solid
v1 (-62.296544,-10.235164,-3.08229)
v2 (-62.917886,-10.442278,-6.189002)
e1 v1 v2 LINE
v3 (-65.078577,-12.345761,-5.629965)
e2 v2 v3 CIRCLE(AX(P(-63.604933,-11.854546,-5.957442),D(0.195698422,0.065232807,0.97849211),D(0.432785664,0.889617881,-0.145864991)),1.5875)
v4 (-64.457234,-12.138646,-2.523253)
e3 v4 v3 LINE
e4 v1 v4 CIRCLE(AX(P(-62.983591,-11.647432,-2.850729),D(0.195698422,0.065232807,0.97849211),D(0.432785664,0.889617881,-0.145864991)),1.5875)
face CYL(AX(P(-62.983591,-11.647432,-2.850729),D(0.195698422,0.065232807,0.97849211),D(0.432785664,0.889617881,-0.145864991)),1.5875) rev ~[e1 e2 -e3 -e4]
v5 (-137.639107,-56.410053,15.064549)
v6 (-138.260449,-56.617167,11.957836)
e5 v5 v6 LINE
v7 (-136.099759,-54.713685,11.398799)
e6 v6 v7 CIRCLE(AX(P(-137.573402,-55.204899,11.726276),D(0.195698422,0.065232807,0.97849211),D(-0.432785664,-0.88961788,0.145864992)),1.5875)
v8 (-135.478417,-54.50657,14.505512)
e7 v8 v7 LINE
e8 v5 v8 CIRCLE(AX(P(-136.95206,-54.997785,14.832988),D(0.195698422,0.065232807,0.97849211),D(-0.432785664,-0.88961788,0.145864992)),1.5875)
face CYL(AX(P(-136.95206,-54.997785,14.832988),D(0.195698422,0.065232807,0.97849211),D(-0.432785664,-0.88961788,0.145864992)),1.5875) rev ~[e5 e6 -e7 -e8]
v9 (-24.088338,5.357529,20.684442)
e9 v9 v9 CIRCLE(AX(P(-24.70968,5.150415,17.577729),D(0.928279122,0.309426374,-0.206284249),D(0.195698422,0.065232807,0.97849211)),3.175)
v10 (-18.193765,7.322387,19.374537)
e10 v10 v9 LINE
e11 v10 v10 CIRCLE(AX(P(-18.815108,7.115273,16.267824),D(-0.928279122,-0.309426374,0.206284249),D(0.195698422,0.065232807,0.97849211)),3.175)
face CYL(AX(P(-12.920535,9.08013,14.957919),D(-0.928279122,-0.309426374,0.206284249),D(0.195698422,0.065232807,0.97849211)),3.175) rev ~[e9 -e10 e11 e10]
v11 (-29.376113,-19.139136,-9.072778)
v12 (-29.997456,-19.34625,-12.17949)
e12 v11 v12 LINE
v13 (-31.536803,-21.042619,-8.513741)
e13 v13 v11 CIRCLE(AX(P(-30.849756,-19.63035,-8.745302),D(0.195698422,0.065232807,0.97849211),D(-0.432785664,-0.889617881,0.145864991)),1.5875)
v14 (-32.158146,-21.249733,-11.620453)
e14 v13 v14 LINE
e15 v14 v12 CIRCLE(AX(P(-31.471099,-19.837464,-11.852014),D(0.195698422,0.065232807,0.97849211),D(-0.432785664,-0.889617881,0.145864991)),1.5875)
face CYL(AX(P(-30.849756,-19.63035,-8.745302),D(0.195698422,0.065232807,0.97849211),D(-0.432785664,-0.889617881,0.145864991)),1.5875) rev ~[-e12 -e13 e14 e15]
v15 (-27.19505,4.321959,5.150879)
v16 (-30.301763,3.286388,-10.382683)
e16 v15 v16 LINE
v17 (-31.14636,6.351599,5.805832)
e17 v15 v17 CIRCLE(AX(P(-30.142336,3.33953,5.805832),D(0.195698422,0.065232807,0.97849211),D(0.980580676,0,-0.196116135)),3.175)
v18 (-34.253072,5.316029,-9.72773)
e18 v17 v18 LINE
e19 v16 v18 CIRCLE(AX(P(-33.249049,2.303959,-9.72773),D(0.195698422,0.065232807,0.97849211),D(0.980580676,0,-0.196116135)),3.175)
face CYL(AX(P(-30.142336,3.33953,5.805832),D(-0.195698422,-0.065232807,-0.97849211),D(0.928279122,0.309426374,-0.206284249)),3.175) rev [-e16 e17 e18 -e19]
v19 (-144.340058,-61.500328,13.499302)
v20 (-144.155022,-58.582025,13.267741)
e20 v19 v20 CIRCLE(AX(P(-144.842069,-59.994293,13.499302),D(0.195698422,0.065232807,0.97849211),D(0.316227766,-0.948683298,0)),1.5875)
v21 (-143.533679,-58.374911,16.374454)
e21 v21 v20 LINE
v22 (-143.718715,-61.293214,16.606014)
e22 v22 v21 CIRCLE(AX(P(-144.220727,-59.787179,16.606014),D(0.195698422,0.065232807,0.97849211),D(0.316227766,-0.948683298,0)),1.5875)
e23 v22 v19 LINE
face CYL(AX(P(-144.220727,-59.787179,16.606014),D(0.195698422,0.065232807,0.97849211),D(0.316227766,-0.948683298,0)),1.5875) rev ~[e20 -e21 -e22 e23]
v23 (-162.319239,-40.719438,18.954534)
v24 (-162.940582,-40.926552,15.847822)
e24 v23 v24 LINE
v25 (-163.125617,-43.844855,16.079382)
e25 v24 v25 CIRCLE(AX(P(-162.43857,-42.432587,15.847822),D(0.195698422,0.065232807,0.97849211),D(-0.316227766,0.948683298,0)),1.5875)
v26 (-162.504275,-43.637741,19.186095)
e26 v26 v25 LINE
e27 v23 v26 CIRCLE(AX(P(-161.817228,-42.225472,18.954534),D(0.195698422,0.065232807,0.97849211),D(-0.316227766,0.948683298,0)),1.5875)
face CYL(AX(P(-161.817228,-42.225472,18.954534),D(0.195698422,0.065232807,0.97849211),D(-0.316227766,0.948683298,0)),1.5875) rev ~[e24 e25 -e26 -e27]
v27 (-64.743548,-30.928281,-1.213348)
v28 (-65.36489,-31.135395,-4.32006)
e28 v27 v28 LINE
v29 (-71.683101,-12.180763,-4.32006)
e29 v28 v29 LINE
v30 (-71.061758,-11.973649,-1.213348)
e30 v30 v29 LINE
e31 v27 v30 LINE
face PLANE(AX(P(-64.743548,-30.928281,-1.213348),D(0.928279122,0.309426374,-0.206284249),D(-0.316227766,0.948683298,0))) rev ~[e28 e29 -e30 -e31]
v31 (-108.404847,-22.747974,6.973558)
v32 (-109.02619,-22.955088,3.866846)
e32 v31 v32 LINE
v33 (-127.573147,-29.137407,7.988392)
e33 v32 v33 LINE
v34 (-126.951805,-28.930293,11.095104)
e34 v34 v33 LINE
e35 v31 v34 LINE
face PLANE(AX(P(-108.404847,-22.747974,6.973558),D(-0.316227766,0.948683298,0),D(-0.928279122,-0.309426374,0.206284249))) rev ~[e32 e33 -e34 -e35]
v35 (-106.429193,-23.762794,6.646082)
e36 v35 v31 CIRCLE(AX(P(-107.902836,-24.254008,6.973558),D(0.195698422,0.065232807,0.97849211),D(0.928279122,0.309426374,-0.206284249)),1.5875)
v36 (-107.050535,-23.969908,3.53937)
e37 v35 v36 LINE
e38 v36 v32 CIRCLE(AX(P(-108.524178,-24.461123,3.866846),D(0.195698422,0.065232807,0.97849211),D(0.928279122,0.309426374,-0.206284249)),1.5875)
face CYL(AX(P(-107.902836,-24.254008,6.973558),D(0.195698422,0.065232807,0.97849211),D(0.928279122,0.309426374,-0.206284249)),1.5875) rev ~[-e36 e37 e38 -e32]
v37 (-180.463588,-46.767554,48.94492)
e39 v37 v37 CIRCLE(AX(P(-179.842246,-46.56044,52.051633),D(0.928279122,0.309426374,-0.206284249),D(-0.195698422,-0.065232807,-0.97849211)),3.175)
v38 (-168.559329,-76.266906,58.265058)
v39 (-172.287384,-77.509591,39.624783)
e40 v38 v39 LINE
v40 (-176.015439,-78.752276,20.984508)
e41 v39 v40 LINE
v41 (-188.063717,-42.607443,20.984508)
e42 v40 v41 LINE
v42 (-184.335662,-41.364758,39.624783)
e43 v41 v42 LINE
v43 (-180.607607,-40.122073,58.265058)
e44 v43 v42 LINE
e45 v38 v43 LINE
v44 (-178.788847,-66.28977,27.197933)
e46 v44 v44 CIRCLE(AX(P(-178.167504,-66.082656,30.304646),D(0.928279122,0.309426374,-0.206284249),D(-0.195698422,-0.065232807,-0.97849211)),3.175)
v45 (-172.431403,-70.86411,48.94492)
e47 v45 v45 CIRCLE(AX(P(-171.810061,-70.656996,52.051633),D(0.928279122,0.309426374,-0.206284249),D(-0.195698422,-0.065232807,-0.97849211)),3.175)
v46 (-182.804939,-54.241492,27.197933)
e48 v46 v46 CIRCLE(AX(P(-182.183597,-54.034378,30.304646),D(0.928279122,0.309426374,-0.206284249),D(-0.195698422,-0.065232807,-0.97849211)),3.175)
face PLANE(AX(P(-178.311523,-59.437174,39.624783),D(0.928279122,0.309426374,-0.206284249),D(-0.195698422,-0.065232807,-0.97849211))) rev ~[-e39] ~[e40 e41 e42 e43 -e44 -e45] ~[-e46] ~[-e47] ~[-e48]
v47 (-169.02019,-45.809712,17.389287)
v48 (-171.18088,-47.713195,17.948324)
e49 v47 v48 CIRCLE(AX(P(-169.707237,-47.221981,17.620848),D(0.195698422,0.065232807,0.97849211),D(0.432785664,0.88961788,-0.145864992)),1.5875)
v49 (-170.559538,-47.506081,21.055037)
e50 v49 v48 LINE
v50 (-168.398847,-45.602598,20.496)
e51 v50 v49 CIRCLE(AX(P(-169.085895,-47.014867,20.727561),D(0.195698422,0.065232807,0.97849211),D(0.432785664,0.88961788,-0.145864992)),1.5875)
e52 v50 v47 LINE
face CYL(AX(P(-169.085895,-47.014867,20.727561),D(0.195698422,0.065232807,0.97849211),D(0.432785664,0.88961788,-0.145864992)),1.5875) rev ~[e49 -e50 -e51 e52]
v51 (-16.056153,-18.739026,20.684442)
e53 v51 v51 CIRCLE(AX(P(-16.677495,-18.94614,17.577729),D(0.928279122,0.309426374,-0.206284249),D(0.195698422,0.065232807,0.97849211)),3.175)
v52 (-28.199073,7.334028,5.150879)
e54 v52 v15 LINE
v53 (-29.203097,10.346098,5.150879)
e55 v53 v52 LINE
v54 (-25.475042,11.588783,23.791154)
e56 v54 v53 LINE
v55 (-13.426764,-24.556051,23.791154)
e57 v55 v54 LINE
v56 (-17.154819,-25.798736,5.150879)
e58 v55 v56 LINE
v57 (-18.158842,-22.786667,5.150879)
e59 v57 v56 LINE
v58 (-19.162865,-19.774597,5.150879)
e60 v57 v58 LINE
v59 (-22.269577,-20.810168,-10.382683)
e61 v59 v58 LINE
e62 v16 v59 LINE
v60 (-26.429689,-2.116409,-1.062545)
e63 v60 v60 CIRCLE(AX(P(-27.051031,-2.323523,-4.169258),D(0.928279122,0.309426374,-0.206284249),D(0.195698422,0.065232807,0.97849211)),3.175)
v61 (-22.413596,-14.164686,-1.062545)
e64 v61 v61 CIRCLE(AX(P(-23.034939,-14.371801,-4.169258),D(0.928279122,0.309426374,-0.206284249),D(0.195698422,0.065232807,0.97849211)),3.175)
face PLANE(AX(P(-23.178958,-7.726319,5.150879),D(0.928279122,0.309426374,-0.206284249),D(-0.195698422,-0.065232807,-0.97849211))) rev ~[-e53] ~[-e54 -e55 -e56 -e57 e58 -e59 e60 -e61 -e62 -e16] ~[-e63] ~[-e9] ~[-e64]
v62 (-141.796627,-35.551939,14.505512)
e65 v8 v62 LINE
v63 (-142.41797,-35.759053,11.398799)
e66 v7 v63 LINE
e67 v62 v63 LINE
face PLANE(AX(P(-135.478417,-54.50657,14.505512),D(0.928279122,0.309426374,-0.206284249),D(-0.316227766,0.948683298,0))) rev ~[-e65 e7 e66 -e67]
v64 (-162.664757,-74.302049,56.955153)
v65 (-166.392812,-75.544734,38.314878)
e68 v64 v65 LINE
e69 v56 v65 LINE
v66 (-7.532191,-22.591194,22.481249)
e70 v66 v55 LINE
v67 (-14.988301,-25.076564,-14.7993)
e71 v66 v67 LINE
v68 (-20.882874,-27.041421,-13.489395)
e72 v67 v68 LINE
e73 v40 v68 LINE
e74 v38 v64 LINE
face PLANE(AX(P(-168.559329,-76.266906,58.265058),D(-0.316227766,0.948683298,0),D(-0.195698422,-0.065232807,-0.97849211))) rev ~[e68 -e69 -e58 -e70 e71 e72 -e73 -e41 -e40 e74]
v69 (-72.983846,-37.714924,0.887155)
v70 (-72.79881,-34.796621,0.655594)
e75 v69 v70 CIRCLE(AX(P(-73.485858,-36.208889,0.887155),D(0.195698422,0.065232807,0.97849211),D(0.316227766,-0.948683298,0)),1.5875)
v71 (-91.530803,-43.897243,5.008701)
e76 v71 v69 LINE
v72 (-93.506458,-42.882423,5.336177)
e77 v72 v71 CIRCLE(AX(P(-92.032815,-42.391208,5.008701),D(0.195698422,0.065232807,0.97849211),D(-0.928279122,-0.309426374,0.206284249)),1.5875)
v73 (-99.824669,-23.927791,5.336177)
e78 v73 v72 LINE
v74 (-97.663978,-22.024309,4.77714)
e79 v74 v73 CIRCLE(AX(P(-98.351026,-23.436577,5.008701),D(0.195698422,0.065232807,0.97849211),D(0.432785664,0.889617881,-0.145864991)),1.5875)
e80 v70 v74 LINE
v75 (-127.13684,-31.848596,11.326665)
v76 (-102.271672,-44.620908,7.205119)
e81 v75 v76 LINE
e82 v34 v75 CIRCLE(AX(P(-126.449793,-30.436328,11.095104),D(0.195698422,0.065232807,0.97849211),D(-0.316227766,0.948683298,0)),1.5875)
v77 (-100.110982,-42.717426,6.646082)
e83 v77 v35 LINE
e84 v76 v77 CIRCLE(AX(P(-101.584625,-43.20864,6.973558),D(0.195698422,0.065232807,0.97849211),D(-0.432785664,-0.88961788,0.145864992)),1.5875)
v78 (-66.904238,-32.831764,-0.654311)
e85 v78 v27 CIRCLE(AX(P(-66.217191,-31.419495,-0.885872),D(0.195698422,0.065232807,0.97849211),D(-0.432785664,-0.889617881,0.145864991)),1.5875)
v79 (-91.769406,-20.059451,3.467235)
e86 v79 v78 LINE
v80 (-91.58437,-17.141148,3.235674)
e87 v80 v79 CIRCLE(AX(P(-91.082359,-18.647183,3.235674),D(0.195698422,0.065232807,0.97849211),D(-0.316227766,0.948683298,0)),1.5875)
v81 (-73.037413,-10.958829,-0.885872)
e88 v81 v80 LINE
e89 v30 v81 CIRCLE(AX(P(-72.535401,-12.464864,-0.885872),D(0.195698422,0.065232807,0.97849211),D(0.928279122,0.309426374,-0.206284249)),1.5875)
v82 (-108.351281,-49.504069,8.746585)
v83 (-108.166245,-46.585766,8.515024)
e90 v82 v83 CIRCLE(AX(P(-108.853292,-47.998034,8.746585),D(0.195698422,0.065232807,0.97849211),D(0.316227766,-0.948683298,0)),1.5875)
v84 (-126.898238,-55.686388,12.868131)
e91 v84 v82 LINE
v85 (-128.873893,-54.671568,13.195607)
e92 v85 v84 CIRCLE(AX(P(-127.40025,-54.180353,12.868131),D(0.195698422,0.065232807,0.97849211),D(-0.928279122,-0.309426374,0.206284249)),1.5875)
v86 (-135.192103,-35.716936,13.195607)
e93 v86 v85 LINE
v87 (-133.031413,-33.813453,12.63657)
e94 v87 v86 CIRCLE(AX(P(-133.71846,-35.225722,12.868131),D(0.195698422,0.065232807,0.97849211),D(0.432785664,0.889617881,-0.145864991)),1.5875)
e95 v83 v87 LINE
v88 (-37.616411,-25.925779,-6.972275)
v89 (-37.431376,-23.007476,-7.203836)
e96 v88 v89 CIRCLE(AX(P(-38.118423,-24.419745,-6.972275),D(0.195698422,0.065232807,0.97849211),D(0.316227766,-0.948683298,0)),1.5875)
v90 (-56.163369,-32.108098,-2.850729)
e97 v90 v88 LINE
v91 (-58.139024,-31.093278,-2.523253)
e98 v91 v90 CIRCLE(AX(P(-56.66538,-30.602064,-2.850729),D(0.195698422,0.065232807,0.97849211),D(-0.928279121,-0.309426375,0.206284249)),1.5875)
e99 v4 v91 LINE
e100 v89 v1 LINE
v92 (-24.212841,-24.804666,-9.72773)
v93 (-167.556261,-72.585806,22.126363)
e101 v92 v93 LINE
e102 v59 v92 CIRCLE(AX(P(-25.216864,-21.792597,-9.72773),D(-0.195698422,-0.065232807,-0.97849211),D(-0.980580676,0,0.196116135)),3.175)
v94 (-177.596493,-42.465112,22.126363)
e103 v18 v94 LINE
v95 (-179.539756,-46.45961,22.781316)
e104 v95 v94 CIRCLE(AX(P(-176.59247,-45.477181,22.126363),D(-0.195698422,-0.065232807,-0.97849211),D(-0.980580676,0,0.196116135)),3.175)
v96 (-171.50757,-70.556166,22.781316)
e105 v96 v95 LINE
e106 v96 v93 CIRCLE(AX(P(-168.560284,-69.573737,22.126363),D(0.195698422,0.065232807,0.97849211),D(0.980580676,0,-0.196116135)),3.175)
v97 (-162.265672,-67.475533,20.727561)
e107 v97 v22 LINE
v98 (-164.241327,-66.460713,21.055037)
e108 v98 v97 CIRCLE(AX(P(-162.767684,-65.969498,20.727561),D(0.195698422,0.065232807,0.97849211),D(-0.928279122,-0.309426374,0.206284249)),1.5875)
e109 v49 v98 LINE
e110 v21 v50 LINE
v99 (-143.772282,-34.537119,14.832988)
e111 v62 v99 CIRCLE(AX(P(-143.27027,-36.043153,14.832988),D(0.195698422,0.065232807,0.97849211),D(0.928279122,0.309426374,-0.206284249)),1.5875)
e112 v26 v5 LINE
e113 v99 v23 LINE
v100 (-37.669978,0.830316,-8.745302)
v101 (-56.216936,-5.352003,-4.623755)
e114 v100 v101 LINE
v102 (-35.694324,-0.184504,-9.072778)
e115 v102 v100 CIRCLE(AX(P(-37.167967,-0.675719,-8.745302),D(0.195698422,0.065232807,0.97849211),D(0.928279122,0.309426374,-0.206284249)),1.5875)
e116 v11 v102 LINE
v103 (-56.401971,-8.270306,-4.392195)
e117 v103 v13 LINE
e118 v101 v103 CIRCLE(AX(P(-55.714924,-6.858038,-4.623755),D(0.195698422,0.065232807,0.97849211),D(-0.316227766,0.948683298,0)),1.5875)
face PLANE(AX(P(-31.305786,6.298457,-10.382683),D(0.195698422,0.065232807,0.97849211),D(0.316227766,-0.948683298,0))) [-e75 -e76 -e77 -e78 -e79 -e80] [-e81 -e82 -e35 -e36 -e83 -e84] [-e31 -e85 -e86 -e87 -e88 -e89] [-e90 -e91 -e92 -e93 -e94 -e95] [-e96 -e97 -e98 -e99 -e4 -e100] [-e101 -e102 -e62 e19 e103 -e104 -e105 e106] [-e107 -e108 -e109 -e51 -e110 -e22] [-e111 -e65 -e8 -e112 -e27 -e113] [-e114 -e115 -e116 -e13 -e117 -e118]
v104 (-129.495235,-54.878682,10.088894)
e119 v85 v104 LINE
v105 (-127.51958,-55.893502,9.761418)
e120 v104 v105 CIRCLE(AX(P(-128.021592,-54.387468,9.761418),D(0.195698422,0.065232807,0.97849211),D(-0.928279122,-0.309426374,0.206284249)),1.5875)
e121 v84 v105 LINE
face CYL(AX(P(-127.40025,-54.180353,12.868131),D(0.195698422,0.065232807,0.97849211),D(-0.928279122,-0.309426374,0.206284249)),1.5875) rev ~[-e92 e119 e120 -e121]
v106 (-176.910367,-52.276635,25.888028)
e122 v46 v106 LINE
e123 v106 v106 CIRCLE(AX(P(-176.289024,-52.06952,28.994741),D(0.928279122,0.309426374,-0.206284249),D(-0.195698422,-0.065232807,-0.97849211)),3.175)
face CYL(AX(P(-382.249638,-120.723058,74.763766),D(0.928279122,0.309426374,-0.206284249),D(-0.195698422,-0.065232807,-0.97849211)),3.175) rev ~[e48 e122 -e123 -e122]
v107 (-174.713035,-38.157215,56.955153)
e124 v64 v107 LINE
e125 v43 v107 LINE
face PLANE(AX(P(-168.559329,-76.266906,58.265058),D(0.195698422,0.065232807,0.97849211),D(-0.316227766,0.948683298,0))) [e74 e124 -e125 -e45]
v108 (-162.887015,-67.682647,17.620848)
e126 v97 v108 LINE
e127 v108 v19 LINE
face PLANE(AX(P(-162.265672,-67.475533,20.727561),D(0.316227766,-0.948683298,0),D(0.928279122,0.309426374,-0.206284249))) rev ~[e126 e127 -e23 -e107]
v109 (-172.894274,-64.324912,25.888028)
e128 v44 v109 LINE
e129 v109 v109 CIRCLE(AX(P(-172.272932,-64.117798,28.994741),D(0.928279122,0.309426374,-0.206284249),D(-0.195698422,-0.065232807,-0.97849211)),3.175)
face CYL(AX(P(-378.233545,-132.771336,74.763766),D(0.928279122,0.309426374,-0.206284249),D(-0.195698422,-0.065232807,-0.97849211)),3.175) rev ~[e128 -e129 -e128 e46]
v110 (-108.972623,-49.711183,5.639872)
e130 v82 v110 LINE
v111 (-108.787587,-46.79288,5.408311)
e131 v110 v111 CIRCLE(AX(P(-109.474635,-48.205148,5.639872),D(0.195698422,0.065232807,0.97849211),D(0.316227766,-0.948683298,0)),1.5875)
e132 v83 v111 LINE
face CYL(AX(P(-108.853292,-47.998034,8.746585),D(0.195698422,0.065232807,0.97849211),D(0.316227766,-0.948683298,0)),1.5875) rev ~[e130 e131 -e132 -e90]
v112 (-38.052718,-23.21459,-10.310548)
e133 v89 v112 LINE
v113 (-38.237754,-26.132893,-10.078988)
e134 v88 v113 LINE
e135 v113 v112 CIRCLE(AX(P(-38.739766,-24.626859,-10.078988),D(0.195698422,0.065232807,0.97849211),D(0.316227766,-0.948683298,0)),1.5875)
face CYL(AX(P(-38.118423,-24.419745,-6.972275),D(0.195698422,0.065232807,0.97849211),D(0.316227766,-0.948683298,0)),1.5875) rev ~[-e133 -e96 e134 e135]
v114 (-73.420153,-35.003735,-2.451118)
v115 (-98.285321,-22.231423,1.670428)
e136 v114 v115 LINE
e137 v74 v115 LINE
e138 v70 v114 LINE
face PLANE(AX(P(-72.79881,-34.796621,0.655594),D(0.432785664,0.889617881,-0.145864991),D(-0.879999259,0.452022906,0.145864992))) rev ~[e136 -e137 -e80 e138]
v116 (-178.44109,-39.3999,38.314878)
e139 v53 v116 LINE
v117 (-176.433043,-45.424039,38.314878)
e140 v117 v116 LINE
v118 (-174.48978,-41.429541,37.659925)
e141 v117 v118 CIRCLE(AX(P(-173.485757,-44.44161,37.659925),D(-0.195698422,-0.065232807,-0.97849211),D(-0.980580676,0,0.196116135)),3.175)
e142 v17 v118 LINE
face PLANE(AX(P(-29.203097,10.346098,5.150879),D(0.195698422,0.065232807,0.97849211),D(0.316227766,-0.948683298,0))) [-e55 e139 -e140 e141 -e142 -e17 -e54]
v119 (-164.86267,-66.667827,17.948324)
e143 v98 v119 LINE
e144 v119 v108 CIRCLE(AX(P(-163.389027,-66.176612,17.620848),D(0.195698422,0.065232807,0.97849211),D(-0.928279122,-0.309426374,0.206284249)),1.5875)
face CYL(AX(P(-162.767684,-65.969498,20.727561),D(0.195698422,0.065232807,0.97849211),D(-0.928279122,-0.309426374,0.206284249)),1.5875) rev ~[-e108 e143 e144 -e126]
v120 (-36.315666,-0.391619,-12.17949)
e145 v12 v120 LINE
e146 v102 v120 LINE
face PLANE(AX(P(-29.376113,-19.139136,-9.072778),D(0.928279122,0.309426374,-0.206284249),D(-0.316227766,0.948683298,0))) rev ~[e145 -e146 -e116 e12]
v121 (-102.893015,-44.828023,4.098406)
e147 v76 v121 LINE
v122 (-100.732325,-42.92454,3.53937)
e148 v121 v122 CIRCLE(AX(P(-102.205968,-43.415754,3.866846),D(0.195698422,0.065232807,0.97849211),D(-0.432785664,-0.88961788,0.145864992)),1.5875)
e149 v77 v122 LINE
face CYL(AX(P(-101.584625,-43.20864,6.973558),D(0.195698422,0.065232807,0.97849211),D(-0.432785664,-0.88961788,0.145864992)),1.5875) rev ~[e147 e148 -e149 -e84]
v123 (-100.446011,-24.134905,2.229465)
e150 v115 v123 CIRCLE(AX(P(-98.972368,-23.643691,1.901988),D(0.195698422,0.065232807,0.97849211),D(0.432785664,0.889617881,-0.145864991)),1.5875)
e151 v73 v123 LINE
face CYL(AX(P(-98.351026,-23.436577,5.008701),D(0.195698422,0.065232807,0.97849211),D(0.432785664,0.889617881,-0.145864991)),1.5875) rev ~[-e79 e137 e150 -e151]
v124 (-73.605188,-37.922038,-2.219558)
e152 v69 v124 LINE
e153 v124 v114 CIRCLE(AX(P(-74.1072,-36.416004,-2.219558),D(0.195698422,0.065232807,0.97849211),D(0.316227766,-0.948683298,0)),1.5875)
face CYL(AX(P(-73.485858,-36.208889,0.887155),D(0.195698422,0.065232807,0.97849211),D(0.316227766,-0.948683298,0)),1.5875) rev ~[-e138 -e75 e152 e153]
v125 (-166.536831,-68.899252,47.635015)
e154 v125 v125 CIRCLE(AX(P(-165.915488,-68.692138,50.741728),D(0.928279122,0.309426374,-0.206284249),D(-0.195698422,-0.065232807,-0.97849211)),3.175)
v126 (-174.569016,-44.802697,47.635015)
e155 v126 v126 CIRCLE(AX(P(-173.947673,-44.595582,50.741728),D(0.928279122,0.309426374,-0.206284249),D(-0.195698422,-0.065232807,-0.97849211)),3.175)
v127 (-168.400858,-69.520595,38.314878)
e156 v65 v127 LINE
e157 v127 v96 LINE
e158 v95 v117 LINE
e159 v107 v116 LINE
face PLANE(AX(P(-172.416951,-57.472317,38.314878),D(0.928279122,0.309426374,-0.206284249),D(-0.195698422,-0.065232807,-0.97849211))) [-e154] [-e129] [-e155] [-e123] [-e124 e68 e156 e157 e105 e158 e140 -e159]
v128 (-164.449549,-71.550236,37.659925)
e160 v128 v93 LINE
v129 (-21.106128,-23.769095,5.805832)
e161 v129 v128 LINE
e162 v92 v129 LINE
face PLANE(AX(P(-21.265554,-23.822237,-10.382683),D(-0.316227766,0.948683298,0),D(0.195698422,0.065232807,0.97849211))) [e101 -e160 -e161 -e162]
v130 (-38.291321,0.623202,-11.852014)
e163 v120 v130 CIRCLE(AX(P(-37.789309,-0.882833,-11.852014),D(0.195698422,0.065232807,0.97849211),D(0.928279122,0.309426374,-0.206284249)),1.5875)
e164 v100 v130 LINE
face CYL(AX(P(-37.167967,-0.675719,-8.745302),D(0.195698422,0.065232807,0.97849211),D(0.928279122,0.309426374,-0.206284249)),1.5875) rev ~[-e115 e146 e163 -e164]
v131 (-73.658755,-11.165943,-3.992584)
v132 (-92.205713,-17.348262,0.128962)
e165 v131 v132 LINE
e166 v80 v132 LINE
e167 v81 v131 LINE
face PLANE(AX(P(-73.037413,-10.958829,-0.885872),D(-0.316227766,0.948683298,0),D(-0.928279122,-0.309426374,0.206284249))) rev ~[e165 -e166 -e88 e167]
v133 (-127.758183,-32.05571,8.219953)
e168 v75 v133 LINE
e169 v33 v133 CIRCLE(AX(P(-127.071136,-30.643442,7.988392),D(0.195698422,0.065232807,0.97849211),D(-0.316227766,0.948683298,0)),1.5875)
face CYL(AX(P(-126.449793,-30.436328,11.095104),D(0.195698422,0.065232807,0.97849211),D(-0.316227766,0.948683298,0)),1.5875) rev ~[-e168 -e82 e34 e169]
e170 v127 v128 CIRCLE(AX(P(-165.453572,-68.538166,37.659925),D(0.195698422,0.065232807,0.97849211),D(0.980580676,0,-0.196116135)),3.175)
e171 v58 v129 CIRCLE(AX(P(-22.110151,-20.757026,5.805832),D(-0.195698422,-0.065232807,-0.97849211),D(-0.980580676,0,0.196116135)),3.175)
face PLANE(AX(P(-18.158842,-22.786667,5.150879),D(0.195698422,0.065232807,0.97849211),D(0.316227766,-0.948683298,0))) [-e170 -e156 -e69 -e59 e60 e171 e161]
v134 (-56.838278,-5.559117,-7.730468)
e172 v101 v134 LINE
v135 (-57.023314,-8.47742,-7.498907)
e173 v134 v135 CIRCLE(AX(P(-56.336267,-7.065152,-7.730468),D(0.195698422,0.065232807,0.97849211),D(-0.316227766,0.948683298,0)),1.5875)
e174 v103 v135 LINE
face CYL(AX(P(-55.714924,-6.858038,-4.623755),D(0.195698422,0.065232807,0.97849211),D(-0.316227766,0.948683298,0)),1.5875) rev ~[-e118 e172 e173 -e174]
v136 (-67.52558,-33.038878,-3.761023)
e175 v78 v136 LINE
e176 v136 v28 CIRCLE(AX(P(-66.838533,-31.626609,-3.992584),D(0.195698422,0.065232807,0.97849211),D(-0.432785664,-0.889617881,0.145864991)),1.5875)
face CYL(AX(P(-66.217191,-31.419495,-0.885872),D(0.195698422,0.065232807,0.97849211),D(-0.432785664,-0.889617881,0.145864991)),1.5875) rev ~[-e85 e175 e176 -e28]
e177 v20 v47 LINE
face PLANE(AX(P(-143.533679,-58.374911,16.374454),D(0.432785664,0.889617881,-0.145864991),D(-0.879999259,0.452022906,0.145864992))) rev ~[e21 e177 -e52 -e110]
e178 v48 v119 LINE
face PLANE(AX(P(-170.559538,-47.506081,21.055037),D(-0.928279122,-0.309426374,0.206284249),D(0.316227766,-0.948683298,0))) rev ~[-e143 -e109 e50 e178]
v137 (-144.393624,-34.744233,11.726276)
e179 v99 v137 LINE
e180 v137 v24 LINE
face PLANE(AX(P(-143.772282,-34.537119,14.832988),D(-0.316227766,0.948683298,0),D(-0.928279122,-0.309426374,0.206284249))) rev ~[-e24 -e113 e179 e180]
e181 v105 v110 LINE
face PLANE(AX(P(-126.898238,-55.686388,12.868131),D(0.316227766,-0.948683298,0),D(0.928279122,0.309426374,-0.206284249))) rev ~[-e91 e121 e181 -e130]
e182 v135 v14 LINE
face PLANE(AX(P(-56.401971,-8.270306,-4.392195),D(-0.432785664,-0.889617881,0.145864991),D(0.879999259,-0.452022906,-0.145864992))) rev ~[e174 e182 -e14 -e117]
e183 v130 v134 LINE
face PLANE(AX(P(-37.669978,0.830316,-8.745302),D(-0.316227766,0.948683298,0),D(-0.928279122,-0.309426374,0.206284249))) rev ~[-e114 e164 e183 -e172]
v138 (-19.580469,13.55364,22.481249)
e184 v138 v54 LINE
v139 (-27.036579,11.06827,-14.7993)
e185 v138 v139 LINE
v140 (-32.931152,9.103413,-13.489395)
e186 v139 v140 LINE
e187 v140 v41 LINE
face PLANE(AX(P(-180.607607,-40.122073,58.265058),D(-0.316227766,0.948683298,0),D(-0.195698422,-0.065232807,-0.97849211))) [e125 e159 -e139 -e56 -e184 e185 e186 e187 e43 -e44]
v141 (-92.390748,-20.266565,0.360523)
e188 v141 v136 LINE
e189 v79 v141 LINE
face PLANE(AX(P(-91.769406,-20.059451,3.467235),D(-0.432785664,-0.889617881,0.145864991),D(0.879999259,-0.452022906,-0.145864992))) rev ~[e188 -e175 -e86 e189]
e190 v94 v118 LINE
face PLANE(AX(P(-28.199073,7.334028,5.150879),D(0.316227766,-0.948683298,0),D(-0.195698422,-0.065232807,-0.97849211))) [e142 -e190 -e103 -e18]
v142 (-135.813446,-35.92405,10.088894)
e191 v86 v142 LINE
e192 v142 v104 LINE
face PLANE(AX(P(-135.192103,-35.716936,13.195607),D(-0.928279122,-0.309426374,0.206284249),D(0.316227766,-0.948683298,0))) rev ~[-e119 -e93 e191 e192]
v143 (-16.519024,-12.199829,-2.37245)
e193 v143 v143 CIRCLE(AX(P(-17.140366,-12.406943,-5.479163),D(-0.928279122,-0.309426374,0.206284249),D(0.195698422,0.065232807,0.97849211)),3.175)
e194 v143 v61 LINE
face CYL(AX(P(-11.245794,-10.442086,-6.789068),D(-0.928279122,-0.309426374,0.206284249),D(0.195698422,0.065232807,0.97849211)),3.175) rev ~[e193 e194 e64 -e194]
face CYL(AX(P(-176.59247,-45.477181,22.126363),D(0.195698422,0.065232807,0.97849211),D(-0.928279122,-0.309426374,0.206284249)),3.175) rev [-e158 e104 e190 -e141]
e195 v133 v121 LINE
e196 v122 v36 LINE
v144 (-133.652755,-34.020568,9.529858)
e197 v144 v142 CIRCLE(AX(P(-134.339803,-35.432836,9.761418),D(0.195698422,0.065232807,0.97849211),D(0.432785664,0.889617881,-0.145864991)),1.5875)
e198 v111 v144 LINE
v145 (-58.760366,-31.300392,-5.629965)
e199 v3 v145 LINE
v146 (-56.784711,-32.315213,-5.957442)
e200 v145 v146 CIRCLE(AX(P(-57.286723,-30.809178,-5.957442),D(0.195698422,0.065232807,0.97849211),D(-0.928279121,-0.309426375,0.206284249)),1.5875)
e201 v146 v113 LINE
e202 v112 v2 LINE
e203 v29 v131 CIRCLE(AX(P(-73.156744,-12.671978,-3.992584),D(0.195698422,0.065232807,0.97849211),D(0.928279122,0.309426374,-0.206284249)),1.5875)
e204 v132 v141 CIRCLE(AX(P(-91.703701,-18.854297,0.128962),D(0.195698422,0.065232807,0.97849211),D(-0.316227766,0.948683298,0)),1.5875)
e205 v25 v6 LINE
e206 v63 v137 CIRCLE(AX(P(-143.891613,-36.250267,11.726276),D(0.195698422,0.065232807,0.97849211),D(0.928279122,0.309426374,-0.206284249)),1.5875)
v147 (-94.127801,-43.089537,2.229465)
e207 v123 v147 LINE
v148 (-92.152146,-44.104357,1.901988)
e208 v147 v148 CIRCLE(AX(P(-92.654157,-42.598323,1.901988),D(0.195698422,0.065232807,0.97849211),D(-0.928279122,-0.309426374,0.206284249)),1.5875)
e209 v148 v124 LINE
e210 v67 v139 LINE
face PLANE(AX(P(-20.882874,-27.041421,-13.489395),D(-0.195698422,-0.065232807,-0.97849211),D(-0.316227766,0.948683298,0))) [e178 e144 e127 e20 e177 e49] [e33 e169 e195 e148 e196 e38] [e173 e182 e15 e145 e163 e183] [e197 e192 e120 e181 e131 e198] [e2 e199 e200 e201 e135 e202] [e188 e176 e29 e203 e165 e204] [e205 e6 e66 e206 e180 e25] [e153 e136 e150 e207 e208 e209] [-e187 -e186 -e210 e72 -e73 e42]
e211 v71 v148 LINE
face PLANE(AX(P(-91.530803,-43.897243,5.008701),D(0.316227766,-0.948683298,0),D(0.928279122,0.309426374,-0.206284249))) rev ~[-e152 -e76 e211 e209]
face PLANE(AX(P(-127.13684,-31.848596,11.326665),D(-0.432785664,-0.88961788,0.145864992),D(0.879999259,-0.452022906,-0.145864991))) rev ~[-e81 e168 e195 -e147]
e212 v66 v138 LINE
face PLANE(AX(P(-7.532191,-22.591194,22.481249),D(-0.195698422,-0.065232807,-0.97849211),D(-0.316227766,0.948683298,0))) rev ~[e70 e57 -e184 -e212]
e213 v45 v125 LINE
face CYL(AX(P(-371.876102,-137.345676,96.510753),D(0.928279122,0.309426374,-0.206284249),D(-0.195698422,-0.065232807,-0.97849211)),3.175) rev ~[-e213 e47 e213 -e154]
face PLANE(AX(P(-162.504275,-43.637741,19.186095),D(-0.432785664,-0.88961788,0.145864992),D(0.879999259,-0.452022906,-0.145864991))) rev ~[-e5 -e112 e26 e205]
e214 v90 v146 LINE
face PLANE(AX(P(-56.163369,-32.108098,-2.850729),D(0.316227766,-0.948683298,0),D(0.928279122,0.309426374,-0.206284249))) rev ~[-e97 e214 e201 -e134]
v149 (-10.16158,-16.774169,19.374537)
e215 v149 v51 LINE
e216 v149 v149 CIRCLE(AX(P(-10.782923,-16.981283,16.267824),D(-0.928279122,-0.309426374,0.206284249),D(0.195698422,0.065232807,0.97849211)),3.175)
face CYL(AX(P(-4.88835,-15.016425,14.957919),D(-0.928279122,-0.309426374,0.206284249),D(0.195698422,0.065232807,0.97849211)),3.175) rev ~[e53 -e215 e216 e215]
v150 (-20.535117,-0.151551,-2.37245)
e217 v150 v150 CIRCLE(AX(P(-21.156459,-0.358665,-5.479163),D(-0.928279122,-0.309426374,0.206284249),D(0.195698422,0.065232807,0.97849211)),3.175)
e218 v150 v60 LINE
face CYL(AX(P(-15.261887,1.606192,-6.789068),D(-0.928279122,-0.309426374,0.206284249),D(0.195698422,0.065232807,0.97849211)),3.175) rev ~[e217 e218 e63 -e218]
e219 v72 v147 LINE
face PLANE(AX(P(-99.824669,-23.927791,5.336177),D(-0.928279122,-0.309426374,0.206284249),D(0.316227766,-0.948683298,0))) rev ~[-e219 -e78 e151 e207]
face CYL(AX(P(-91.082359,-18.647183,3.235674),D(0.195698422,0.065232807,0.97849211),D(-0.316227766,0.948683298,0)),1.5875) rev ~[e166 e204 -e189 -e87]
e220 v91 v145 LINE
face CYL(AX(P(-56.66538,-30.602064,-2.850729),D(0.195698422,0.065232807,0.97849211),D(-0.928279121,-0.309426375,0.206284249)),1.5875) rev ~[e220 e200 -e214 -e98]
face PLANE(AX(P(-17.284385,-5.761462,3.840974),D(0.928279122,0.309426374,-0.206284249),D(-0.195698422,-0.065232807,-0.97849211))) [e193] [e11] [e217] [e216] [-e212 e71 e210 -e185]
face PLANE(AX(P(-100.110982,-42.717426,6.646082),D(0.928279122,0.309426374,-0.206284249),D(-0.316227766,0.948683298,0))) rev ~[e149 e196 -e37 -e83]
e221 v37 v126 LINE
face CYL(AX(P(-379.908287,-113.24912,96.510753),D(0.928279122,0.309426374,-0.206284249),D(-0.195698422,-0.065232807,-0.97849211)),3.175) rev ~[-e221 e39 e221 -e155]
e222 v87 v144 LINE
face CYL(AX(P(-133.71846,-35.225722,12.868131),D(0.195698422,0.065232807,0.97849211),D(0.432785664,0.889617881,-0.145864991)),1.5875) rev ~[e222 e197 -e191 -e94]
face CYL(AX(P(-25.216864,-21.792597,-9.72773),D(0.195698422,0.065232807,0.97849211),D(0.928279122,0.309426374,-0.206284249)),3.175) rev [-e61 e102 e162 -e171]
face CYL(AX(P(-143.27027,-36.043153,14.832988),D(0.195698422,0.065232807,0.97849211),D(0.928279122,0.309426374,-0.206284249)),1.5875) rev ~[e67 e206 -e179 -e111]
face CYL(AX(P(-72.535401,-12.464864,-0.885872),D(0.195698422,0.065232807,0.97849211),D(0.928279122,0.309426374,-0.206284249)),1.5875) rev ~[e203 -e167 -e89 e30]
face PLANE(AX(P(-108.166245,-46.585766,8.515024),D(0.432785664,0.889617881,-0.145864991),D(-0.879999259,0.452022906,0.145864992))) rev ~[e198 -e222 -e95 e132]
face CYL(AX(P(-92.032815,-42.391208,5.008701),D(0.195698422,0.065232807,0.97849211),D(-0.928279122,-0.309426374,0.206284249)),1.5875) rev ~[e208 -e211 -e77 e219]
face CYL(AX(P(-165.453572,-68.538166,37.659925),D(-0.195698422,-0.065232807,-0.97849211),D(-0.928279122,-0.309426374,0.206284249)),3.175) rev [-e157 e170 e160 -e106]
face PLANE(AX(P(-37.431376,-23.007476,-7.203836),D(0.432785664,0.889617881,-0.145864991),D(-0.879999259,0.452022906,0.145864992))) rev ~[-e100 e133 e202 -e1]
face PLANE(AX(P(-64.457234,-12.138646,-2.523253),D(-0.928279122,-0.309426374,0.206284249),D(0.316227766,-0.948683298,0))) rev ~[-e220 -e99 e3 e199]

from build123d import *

# Parameters (mm, degrees)
SKETCH1_W                       = 38.1
SKETCH1_H                       = 38.1
BOSS_EXTRUDE1_DEPTH             = 6.35
BOSS_EXTRUDE2_DEPTH             = 167.118447297
SKETCH3_W                       = 38.1
SKETCH3_H                       = 38.1
BOSS_EXTRUDE3_DEPTH             = 6.35
FILLET1_R                       = 3.175
F_1_4_0_25_DIAMETER_HOLE1_D     = 6.35
F_1_4_0_25_DIAMETER_HOLE1_DEPTH = 6.35
F_1_4_0_25_DIAMETER_HOLE2_D     = 6.35
CUT_EXTRUDE1_REACH              = 215.764


with BuildPart() as part:
    # Sketch1 → Boss-Extrude1 (new body)
    with BuildSketch(Plane(origin=(-17.28438521, -5.761461737, 3.840974491), x_dir=(-0.1956984219160322, -0.06523280730534455, -0.9784921095801634), z_dir=(0.9282791216329135, 0.3094263738776401, -0.20628424925175834))):
        Rectangle(SKETCH1_W, SKETCH1_H)
    extrude(amount=-BOSS_EXTRUDE1_DEPTH)

    # Sketch2 → Boss-Extrude2 (add)
    with BuildSketch(Plane(origin=(-23.178957633, -7.726319211, 5.150879474), x_dir=(0.19569842191603226, 0.06523280730534461, 0.9784921095801634), z_dir=(-0.9282791216329135, -0.3094263738776404, 0.20628424925175842))):
        Polygon((-19.05, 19.05), (0, 19.05), (0, 15.875), (-15.875, 15.875), (-15.875, -15.875), (0, -15.875), (0, -19.05), (-19.05, -19.05), align=None)
    extrude(amount=BOSS_EXTRUDE2_DEPTH)

    # Sketch3 → Boss-Extrude3 (add)
    with BuildSketch(Plane(origin=(-178.311523099, -59.437174366, 39.624782911), x_dir=(-0.19569842191603198, -0.0652328073053445, -0.9784921095801634), z_dir=(0.9282791216329136, 0.30942637387764027, -0.20628424925175817))):
        Rectangle(SKETCH3_W, SKETCH3_H)
    extrude(amount=BOSS_EXTRUDE3_DEPTH)

    # Fillet1
    fillet1_edges = [part.edges().sort_by_distance(p)[0] for p in [
        (-29.752429642, 6.816242738, -2.615901646),
        (-19.712198071, -23.304451975, -2.615901646),
        (-178.990422686, -42.929754944, 30.548096808),
        (-168.950191115, -73.050449657, 30.548096808),
    ]]
    fillet(fillet1_edges, radius=FILLET1_R)

    # 1/4 (0.25) Diameter Hole1
    with Locations(Plane(origin=(-17.28438521, -5.761461737, 3.840974491), x_dir=(-0.19569842191603223, -0.0652328073053446, -0.9784921095801634), z_dir=(0.9282791216329135, 0.3094263738776401, -0.20628424925175837))):
        with Locations((-12.7, 12.7), (-12.7, -12.7), (9.525, 6.35), (9.525, -6.35)):
            Hole(F_1_4_0_25_DIAMETER_HOLE1_D / 2, depth=F_1_4_0_25_DIAMETER_HOLE1_DEPTH)

    # 1/4 (0.25) Diameter Hole2 (through all)
    with Locations(Plane(origin=(-178.311523099, -59.437174366, 39.624782911), x_dir=(0.19569842191603223, 0.06523280730534461, 0.9784921095801634), z_dir=(-0.9282791216329135, -0.3094263738776401, 0.2062842492517584))):
        with Locations((12.7, 12.7), (12.7, -12.7), (-9.525, -6.35), (-9.525, 6.35)):
            Hole(F_1_4_0_25_DIAMETER_HOLE2_D / 2)

    # Sketch10 → Cut-Extrude1 (cut, up to next)
    with BuildSketch(Plane(origin=(-3.106712448, -1.035570816, -15.53356224), x_dir=(0.9806641258145292, -0.013017665386918594, -0.19526498080377744), z_dir=(0.1956984219160322, 0.06523280730534471, 0.9784921095801634)), mode=Mode.PRIVATE) as cut_extrude1_sk1:
        with BuildLine():
            Line((-26.787357564, -18.493233536), (-33.230145008, 0.419416497))
            ThreePointArc((-33.230145008, 0.419416497), (-34.032250279, 1.332050316), (-35.244753917, 1.410205802))
            Line((-35.244753917, 1.410205802), (-54.15740395, -5.032581643))
            ThreePointArc((-54.15740395, -5.032581643), (-55.229706496, -6.433165686), (-54.346087984, -7.95982437))
            Line((-54.346087984, -7.95982437), (-28.990650506, -20.429686959))
            ThreePointArc((-28.990650506, -20.429686959), (-27.24205563, -20.197556886), (-26.787357564, -18.493233536))
        make_face()
    cut_extrude1_tool1 = extrude(cut_extrude1_sk1.sketch, amount=-CUT_EXTRUDE1_REACH, mode=Mode.PRIVATE) & part.part
    # Sketch10 → Cut-Extrude1 (cut, up to next)
    with BuildSketch(Plane(origin=(-3.106712448, -1.035570816, -15.53356224), x_dir=(0.9806641258145292, -0.013017665386918594, -0.19526498080377744), z_dir=(0.1956984219160322, 0.06523280730534471, 0.9784921095801634)), mode=Mode.PRIVATE) as cut_extrude1_sk2:
        with BuildLine():
            Line((-35.001446932, -22.477326167), (-60.35688441, -10.007463578))
            ThreePointArc((-60.35688441, -10.007463578), (-62.105479286, -10.239593651), (-62.560177352, -11.943917001))
            Line((-62.560177352, -11.943917001), (-56.117389908, -30.856567035))
            ThreePointArc((-56.117389908, -30.856567035), (-55.315284637, -31.769200853), (-54.102780999, -31.847356339))
            Line((-54.102780999, -31.847356339), (-35.190130966, -25.404568895))
            ThreePointArc((-35.190130966, -25.404568895), (-34.11782842, -24.003984851), (-35.001446932, -22.477326167))
        make_face()
    cut_extrude1_tool2 = extrude(cut_extrude1_sk2.sketch, amount=-CUT_EXTRUDE1_REACH, mode=Mode.PRIVATE) & part.part
    # Sketch10 → Cut-Extrude1 (cut, up to next)
    with BuildSketch(Plane(origin=(-3.106712448, -1.035570816, -15.53356224), x_dir=(0.9806641258145292, -0.013017665386918594, -0.19526498080377744), z_dir=(0.1956984219160322, 0.06523280730534471, 0.9784921095801634)), mode=Mode.PRIVATE) as cut_extrude1_sk3:
        with BuildLine():
            Line((-62.852136119, -30.779068786), (-69.294923563, -11.866418753))
            ThreePointArc((-69.294923563, -11.866418753), (-70.097028834, -10.953784934), (-71.309532471, -10.875629448))
            Line((-71.309532471, -10.875629448), (-90.222182505, -17.318416892))
            ThreePointArc((-90.222182505, -17.318416892), (-91.294485051, -18.719000936), (-90.410866539, -20.24565962))
            Line((-90.410866539, -20.24565962), (-65.055429061, -32.715522209))
            ThreePointArc((-65.055429061, -32.715522209), (-63.306834185, -32.483392136), (-62.852136119, -30.779068786))
        make_face()
    cut_extrude1_tool3 = extrude(cut_extrude1_sk3.sketch, amount=-CUT_EXTRUDE1_REACH, mode=Mode.PRIVATE) & part.part
    # Sketch10 → Cut-Extrude1 (cut, up to next)
    with BuildSketch(Plane(origin=(-3.106712448, -1.035570816, -15.53356224), x_dir=(0.9806641258145292, -0.013017665386918594, -0.19526498080377744), z_dir=(0.1956984219160322, 0.06523280730534471, 0.9784921095801634)), mode=Mode.PRIVATE) as cut_extrude1_sk4:
        with BuildLine():
            Line((-71.066225487, -34.763161417), (-96.421662965, -22.293298828))
            ThreePointArc((-96.421662965, -22.293298828), (-98.170257841, -22.525428901), (-98.624955907, -24.229752251))
            Line((-98.624955907, -24.229752251), (-92.182168463, -43.142402284))
            ThreePointArc((-92.182168463, -43.142402284), (-91.380063192, -44.055036103), (-90.167559554, -44.133191589))
            Line((-90.167559554, -44.133191589), (-71.254909521, -37.690404145))
            ThreePointArc((-71.254909521, -37.690404145), (-70.182606975, -36.289820101), (-71.066225487, -34.763161417))
        make_face()
    cut_extrude1_tool4 = extrude(cut_extrude1_sk4.sketch, amount=-CUT_EXTRUDE1_REACH, mode=Mode.PRIVATE) & part.part
    # Sketch10 → Cut-Extrude1 (cut, up to next)
    with BuildSketch(Plane(origin=(-3.106712448, -1.035570816, -15.53356224), x_dir=(0.9806641258145292, -0.013017665386918594, -0.19526498080377744), z_dir=(0.1956984219160322, 0.06523280730534471, 0.9784921095801634)), mode=Mode.PRIVATE) as cut_extrude1_sk5:
        with BuildLine():
            Line((-98.916914674, -43.064904036), (-105.359702118, -24.152254002))
            ThreePointArc((-105.359702118, -24.152254002), (-106.161807388, -23.239620184), (-107.374311026, -23.161464698))
            Line((-107.374311026, -23.161464698), (-126.28696106, -29.604252142))
            ThreePointArc((-126.28696106, -29.604252142), (-127.359263606, -31.004836186), (-126.475645094, -32.531494869))
            Line((-126.475645094, -32.531494869), (-101.120207616, -45.001357459))
            ThreePointArc((-101.120207616, -45.001357459), (-99.371612739, -44.769227386), (-98.916914674, -43.064904036))
        make_face()
    cut_extrude1_tool5 = extrude(cut_extrude1_sk5.sketch, amount=-CUT_EXTRUDE1_REACH, mode=Mode.PRIVATE) & part.part
    # Sketch10 → Cut-Extrude1 (cut, up to next)
    with BuildSketch(Plane(origin=(-3.106712448, -1.035570816, -15.53356224), x_dir=(0.9806641258145292, -0.013017665386918594, -0.19526498080377744), z_dir=(0.1956984219160322, 0.06523280730534471, 0.9784921095801634)), mode=Mode.PRIVATE) as cut_extrude1_sk6:
        with BuildLine():
            Line((-107.131004042, -47.048996667), (-132.48644152, -34.579134078))
            ThreePointArc((-132.48644152, -34.579134078), (-134.235036396, -34.811264151), (-134.689734462, -36.5155875))
            Line((-134.689734462, -36.5155875), (-128.246947018, -55.428237534))
            ThreePointArc((-128.246947018, -55.428237534), (-127.444841747, -56.340871353), (-126.232338109, -56.419026839))
            Line((-126.232338109, -56.419026839), (-107.319688075, -49.976239394))
            ThreePointArc((-107.319688075, -49.976239394), (-106.247385529, -48.575655351), (-107.131004042, -47.048996667))
        make_face()
    cut_extrude1_tool6 = extrude(cut_extrude1_sk6.sketch, amount=-CUT_EXTRUDE1_REACH, mode=Mode.PRIVATE) & part.part
    # Sketch10 → Cut-Extrude1 (cut, up to next)
    with BuildSketch(Plane(origin=(-3.106712448, -1.035570816, -15.53356224), x_dir=(0.9806641258145292, -0.013017665386918594, -0.19526498080377744), z_dir=(0.1956984219160322, 0.06523280730534471, 0.9784921095801634)), mode=Mode.PRIVATE) as cut_extrude1_sk7:
        with BuildLine():
            Line((-134.981693228, -55.350739286), (-141.424480673, -36.438089252))
            ThreePointArc((-141.424480673, -36.438089252), (-142.226585943, -35.525455434), (-143.439089581, -35.447299948))
            Line((-143.439089581, -35.447299948), (-162.351739615, -41.890087392))
            ThreePointArc((-162.351739615, -41.890087392), (-163.424042161, -43.290671435), (-162.540423649, -44.817330119))
            Line((-162.540423649, -44.817330119), (-137.184986171, -57.287192709))
            ThreePointArc((-137.184986171, -57.287192709), (-135.436391294, -57.055062636), (-134.981693228, -55.350739286))
        make_face()
    cut_extrude1_tool7 = extrude(cut_extrude1_sk7.sketch, amount=-CUT_EXTRUDE1_REACH, mode=Mode.PRIVATE) & part.part
    # Sketch10 → Cut-Extrude1 (cut, up to next)
    with BuildSketch(Plane(origin=(-3.106712448, -1.035570816, -15.53356224), x_dir=(0.9806641258145292, -0.013017665386918594, -0.19526498080377744), z_dir=(0.1956984219160322, 0.06523280730534471, 0.9784921095801634)), mode=Mode.PRIVATE) as cut_extrude1_sk8:
        with BuildLine():
            Line((-143.195782597, -59.334831917), (-168.551220075, -46.864969328))
            ThreePointArc((-168.551220075, -46.864969328), (-170.299814951, -47.0970994), (-170.754513017, -48.80142275))
            Line((-170.754513017, -48.80142275), (-164.311725573, -67.714072784))
            ThreePointArc((-164.311725573, -67.714072784), (-163.509620302, -68.626706603), (-162.297116664, -68.704862089))
            Line((-162.297116664, -68.704862089), (-143.38446663, -62.262074644))
            ThreePointArc((-143.38446663, -62.262074644), (-142.312164084, -60.861490601), (-143.195782597, -59.334831917))
        make_face()
    cut_extrude1_tool8 = extrude(cut_extrude1_sk8.sketch, amount=-CUT_EXTRUDE1_REACH, mode=Mode.PRIVATE) & part.part
    add(cut_extrude1_tool1.solids().sort_by_distance((-41.341778, -9.255249, -7.338571))[0], mode=Mode.SUBTRACT)
    add(cut_extrude1_tool2.solids().sort_by_distance((-52.491569, -22.022534, -4.25746))[0], mode=Mode.SUBTRACT)
    add(cut_extrude1_tool3.solids().sort_by_distance((-76.709213, -21.044393, 0.520859))[0], mode=Mode.SUBTRACT)
    add(cut_extrude1_tool4.solids().sort_by_distance((-87.859003, -33.811679, 3.60197))[0], mode=Mode.SUBTRACT)
    add(cut_extrude1_tool5.solids().sort_by_distance((-112.076647, -32.833538, 8.380289))[0], mode=Mode.SUBTRACT)
    add(cut_extrude1_tool6.solids().sort_by_distance((-123.226438, -45.600823, 11.4614))[0], mode=Mode.SUBTRACT)
    add(cut_extrude1_tool7.solids().sort_by_distance((-147.444082, -44.622683, 16.239719))[0], mode=Mode.SUBTRACT)
    add(cut_extrude1_tool8.solids().sort_by_distance((-158.593872, -57.389968, 19.32083))[0], mode=Mode.SUBTRACT)


solid = part.part
